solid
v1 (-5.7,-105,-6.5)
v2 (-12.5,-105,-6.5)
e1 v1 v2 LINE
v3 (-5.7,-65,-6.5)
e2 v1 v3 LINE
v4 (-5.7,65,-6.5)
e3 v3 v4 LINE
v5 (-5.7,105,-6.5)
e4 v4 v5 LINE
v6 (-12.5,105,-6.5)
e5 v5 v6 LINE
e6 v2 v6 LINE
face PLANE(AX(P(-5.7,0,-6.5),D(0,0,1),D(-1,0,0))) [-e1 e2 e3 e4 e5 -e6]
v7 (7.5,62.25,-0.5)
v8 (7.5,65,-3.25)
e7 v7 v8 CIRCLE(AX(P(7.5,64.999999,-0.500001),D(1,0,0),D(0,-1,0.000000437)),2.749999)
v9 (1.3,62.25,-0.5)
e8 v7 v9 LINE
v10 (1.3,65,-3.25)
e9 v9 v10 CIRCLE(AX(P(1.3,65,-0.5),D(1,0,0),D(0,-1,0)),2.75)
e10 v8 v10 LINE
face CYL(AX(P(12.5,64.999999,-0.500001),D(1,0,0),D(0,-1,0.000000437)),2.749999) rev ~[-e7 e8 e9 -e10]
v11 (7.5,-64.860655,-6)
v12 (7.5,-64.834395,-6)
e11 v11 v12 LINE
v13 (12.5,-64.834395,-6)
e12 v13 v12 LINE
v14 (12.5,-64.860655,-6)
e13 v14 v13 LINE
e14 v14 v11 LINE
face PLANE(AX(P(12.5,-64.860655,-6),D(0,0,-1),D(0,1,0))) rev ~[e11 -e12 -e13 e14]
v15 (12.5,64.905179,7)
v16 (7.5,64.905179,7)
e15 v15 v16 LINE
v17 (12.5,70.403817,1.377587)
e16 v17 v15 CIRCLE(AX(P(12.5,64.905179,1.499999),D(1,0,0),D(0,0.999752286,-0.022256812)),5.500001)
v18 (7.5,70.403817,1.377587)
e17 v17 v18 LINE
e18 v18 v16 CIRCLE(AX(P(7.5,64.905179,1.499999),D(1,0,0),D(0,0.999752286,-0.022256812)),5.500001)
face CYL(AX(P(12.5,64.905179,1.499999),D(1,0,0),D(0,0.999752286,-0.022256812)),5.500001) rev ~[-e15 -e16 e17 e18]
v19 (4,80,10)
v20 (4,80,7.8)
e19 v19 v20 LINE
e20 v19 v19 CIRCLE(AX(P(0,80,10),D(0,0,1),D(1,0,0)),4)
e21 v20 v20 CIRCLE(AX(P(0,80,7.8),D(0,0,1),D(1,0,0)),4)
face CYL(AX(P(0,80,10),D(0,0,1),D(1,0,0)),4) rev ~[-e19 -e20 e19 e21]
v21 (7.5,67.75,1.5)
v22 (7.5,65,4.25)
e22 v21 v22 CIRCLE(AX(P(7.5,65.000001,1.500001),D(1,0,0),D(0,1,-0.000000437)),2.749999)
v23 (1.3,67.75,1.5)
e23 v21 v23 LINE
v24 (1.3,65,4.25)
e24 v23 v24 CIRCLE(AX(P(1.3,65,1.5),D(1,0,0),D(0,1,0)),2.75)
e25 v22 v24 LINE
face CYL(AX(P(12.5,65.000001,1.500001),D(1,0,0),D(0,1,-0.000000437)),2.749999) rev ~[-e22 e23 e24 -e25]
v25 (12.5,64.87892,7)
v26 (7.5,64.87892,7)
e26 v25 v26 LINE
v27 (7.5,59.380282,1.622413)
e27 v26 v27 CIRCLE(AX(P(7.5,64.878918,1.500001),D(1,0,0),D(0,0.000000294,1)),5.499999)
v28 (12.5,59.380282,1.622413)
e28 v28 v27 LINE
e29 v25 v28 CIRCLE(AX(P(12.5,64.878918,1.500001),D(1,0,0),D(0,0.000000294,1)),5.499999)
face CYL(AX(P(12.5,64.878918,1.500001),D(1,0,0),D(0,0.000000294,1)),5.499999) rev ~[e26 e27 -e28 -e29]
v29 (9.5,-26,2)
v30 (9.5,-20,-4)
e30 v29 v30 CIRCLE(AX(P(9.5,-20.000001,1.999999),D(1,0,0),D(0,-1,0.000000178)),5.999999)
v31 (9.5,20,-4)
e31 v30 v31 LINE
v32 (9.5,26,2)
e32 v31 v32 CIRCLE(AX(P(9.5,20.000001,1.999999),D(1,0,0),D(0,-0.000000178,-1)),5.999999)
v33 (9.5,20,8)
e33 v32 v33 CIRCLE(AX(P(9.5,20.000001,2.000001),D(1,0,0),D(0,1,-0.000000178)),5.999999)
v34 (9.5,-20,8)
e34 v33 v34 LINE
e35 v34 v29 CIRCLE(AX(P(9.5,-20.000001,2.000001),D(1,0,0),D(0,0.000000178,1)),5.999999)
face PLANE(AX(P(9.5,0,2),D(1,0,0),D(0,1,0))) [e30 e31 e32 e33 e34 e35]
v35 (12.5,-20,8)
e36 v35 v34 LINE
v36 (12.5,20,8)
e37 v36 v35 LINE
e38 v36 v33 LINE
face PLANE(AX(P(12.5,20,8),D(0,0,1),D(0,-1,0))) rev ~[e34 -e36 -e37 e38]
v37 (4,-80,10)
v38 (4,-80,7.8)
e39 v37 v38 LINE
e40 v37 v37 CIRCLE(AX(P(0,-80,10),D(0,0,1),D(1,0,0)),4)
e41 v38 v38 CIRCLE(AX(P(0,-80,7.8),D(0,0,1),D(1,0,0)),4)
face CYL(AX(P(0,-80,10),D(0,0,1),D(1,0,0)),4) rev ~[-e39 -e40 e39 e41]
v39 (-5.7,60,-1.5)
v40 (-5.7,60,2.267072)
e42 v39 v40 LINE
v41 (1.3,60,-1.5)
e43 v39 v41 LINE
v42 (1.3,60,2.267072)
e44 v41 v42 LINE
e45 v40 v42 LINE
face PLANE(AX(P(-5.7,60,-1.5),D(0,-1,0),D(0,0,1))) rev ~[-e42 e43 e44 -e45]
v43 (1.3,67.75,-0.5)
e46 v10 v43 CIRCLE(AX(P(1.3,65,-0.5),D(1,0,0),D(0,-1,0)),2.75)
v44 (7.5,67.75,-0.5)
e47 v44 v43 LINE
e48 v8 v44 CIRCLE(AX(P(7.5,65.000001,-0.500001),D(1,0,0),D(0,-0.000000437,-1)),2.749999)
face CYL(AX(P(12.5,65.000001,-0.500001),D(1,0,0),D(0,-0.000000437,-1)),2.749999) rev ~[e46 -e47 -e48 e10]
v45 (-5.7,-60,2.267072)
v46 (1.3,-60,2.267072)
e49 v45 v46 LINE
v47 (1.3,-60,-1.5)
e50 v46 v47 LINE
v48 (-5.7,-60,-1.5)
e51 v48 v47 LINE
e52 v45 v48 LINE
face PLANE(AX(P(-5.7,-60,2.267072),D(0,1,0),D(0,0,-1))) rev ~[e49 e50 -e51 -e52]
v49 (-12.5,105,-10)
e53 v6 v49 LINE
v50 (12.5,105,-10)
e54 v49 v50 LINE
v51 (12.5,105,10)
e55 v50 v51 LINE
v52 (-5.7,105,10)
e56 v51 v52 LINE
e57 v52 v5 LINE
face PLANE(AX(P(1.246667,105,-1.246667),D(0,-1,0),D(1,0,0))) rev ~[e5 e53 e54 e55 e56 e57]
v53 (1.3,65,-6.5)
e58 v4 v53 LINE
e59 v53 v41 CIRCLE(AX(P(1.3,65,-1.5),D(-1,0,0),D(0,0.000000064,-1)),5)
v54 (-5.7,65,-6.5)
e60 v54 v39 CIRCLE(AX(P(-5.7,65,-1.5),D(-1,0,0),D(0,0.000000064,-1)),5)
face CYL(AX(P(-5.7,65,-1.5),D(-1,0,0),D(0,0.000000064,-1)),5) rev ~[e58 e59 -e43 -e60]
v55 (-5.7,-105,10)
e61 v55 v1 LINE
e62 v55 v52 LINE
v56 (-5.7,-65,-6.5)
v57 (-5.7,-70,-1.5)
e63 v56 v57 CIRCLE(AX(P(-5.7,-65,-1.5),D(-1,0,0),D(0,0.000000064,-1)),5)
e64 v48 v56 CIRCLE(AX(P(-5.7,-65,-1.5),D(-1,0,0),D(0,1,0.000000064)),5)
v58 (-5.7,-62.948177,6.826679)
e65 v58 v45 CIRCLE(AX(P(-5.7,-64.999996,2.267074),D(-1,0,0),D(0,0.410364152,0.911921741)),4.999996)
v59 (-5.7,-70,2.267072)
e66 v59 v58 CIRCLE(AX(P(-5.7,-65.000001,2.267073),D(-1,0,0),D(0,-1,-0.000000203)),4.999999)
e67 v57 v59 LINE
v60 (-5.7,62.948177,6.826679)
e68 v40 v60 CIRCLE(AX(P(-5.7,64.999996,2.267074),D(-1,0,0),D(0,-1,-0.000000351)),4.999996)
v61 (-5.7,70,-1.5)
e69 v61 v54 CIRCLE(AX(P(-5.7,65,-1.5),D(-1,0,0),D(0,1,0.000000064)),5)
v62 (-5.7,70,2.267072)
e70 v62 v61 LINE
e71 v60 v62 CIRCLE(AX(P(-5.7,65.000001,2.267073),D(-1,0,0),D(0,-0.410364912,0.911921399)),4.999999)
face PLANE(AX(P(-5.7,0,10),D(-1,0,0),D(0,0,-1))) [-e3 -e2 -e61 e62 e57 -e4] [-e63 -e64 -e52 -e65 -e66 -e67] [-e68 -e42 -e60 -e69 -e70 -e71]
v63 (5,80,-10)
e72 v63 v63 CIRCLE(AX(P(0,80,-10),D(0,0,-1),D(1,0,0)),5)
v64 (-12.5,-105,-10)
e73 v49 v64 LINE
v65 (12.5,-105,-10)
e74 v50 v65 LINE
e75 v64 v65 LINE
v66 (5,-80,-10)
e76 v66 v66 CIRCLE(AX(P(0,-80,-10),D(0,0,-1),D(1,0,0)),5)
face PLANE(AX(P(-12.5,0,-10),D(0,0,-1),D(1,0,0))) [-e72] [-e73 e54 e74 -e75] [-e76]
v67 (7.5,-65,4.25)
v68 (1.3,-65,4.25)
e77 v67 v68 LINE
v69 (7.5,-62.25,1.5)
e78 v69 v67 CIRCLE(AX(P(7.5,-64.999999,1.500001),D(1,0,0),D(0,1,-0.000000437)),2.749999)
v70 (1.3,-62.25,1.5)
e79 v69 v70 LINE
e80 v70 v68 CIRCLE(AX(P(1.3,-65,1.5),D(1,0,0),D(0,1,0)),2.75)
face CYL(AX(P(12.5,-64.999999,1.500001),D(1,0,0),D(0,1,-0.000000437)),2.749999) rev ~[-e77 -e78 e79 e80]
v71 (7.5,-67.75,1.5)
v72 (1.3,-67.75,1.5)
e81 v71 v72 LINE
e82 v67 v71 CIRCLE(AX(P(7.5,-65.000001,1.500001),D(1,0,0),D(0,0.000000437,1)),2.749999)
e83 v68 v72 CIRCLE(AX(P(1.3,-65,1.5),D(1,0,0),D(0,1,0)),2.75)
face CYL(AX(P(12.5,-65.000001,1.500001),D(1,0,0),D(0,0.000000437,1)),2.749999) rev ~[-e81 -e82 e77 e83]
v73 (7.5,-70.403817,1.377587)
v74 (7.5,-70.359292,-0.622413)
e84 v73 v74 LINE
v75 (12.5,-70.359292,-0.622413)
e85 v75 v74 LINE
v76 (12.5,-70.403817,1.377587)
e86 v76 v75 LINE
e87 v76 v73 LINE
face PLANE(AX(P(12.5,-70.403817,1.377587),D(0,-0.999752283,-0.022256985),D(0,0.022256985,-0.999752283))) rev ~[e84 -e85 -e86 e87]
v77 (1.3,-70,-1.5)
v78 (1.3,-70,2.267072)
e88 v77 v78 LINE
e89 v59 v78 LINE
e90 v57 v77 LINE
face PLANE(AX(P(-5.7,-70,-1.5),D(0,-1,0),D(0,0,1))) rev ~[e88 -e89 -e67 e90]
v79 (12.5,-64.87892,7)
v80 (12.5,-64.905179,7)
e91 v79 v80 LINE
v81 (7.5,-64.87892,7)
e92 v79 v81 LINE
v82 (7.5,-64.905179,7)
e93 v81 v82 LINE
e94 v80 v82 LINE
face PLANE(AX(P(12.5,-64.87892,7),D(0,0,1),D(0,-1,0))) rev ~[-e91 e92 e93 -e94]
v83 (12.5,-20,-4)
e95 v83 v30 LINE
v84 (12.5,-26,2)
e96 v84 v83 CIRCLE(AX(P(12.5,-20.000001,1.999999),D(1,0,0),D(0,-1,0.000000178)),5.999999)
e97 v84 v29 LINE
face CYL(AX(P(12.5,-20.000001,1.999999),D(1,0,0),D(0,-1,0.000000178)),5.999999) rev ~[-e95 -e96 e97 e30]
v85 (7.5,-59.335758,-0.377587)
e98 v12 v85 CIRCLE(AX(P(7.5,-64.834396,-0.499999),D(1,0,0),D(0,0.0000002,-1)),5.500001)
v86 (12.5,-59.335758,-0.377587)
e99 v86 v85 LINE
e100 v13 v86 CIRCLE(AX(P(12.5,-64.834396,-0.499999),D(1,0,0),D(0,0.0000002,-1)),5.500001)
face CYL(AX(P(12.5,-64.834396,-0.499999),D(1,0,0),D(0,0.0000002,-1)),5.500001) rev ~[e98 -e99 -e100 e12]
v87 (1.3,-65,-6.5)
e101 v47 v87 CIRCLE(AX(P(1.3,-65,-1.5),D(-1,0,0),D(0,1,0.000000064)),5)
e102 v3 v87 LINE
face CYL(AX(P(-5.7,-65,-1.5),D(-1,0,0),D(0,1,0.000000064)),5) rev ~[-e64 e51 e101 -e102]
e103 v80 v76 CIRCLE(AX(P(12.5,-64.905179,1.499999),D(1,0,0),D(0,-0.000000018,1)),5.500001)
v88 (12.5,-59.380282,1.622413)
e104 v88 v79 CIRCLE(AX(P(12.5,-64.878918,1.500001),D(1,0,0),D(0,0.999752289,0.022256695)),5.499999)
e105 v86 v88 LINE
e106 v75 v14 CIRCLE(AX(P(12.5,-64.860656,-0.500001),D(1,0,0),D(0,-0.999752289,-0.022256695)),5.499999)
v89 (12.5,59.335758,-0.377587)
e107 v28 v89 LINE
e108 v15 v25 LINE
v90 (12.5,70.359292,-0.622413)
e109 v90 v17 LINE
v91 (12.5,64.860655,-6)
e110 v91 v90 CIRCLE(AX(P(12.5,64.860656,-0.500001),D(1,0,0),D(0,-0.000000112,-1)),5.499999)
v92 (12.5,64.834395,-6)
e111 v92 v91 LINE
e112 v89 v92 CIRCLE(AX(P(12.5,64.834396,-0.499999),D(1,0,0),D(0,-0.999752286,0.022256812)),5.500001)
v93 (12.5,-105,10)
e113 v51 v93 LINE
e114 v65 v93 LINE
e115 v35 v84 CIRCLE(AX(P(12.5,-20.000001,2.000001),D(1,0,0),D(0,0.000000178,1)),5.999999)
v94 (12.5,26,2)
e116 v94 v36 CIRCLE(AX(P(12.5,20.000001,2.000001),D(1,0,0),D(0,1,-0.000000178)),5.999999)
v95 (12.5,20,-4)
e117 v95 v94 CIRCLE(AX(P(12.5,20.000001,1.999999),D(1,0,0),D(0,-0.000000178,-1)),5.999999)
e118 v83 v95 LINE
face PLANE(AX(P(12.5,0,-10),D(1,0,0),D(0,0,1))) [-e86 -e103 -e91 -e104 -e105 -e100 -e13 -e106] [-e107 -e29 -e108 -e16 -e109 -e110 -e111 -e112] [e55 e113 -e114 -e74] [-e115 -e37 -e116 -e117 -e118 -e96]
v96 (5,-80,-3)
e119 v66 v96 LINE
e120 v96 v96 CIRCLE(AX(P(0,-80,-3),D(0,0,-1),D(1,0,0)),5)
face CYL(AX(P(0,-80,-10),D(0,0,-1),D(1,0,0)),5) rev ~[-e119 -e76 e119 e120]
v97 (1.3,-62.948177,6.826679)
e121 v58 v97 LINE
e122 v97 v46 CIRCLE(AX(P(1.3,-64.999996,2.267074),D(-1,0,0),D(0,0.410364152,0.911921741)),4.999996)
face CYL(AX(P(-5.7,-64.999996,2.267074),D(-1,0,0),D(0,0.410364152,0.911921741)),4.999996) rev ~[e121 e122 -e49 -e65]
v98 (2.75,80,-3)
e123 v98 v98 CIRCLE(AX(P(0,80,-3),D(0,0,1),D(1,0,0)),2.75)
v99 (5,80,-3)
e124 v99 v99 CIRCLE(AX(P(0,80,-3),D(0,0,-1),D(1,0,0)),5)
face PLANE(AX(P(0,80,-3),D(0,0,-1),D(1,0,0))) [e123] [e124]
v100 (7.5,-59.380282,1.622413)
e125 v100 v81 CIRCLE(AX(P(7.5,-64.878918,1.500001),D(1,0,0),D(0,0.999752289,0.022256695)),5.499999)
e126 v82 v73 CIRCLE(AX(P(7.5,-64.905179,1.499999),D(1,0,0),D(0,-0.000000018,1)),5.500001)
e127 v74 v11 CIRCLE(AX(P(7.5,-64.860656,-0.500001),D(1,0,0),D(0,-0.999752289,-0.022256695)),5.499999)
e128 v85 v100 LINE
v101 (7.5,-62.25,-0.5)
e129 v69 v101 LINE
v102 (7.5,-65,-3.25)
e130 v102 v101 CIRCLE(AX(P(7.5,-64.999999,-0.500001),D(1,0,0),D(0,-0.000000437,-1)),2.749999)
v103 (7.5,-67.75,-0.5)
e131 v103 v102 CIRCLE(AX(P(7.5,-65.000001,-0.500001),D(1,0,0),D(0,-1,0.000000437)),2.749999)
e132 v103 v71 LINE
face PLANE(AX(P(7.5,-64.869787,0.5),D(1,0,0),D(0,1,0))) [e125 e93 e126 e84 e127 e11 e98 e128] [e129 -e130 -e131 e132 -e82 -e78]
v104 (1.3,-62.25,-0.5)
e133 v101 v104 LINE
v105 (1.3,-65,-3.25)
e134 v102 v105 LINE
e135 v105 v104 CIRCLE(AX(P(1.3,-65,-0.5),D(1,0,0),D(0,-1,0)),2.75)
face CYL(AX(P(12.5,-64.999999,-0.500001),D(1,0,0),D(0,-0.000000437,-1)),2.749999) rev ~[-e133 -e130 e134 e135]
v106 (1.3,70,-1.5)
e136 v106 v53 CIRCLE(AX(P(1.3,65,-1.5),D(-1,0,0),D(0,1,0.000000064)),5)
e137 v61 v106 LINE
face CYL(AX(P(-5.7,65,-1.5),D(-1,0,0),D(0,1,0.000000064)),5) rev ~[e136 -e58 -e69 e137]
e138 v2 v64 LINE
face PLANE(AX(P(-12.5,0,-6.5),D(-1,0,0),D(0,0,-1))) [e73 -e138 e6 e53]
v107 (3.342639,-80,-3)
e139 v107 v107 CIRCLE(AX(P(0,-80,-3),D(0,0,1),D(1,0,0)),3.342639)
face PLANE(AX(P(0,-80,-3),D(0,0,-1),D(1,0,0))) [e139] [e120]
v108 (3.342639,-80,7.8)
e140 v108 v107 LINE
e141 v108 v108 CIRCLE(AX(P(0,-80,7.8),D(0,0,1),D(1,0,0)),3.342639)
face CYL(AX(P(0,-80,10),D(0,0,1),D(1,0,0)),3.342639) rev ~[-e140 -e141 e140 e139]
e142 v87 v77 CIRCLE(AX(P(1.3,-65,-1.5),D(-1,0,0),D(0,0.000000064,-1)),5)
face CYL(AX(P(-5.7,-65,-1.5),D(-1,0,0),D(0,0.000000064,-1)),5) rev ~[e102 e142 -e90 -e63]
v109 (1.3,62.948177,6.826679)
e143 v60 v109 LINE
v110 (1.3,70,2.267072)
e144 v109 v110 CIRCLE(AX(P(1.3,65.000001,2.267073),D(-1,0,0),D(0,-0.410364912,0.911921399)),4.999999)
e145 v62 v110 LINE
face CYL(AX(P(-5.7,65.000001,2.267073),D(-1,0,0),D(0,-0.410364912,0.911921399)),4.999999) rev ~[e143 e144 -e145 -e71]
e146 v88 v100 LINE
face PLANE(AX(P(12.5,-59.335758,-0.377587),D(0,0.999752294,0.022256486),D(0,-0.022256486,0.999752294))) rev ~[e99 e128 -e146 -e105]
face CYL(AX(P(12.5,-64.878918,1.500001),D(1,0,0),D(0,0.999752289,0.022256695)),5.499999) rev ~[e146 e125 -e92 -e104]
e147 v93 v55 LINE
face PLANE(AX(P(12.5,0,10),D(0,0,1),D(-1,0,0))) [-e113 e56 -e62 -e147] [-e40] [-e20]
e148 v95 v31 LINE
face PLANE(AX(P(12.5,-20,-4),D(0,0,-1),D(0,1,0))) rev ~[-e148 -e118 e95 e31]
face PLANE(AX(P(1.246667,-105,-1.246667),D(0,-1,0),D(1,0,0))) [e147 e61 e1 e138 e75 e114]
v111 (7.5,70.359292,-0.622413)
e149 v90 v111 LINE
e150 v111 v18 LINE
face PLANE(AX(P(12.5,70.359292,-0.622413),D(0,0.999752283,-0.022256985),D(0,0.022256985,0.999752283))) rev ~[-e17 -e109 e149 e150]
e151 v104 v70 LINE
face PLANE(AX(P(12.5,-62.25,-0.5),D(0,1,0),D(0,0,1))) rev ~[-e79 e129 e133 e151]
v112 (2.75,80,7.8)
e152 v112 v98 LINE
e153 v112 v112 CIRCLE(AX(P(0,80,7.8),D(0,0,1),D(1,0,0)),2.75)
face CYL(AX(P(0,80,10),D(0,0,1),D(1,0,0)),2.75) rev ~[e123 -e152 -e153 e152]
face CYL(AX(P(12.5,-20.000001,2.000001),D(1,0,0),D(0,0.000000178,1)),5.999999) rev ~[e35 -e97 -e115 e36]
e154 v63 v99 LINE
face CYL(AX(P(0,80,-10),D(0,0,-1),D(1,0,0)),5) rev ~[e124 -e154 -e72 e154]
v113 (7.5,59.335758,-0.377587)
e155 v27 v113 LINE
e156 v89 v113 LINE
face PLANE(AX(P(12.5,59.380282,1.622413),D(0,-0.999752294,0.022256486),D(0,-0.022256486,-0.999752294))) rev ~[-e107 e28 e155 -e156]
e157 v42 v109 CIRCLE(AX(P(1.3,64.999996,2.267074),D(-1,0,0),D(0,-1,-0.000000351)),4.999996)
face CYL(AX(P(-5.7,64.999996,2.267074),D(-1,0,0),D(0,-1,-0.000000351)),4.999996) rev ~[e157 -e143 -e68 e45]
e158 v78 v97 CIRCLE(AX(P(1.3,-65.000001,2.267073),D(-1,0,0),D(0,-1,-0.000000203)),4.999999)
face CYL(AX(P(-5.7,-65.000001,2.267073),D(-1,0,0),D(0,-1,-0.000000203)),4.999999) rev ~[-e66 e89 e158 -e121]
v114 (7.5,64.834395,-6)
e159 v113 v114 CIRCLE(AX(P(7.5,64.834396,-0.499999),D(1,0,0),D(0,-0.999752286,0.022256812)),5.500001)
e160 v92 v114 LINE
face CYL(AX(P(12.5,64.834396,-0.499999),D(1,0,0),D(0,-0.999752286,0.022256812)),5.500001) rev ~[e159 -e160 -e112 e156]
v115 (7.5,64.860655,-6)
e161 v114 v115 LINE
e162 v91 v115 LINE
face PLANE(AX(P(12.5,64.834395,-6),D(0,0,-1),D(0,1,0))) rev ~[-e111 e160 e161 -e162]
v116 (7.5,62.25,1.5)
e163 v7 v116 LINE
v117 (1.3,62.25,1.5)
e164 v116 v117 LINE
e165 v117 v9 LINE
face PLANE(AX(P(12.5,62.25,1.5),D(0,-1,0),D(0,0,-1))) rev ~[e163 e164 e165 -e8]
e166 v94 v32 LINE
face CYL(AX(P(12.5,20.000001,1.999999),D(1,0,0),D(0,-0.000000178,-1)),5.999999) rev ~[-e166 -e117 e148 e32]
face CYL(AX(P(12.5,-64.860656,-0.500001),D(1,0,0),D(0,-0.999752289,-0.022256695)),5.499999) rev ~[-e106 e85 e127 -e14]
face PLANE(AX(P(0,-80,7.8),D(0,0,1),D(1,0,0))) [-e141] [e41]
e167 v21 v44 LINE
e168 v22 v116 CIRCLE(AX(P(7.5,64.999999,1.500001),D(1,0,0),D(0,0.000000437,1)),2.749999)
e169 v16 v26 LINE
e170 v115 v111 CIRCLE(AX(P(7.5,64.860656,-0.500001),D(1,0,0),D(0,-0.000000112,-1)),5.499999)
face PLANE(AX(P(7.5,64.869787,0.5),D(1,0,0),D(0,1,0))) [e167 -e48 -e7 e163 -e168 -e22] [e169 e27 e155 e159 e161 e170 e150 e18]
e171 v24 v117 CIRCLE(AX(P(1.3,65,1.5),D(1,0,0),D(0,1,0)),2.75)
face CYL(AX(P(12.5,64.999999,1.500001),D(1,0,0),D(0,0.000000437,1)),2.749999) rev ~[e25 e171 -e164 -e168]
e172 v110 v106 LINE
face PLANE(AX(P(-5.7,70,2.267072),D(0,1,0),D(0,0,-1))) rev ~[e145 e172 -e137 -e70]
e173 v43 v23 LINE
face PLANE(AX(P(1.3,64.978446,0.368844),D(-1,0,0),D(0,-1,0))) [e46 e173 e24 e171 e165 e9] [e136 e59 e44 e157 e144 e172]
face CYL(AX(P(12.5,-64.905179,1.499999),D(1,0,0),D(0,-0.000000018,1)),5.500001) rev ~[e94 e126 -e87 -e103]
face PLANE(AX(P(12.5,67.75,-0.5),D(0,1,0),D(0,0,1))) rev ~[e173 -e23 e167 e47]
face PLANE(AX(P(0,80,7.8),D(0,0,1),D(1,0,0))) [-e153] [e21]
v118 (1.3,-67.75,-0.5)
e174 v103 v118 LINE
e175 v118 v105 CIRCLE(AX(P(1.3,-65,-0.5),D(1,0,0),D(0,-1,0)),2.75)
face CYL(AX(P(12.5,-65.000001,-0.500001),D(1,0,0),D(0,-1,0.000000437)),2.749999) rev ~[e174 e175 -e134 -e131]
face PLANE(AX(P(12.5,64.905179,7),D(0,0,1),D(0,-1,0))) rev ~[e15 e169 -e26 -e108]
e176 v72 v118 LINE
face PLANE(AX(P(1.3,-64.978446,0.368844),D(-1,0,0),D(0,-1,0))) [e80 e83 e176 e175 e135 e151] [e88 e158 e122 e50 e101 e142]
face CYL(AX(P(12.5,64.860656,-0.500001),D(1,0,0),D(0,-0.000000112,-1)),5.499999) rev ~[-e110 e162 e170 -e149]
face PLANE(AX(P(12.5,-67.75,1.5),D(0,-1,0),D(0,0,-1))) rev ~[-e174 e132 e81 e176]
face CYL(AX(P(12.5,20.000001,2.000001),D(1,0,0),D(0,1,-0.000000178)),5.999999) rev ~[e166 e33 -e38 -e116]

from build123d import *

# Parameters (mm, degrees)
F1_DEPTH  = 105
F2_R      = 2.75
F2_R_2    = 3.342639
F3_DEPTH  = 20.001
F5_DEPTH  = 25.001
F7_DEPTH  = 5
F9_DEPTH  = 7
F10_R     = 4
F11_DEPTH = 2.2
F12_R     = 5
F13_DEPTH = 7
F15_DEPTH = 3


with BuildPart() as f1:
    # F0 (on Front) → F1 (new body, symmetric)
    with BuildSketch(Plane.XZ):
        Polygon((-12.5, -6.5), (-12.5, -10), (12.5, -10), (12.5, 10), (-5.7, 10), (-5.7, -6.5), align=None)
    extrude(amount=F1_DEPTH, both=True)

    # F2 (on face) → F3 (cut, through all)
    with BuildSketch(Plane.XY.offset(10)):
        with Locations((0, 80)):
            Circle(F2_R)
        with Locations((0, -80)):
            Circle(F2_R_2)
    extrude(amount=-F3_DEPTH, mode=Mode.SUBTRACT)

    # F4 (on face) → F5 (cut, through all)
    with BuildSketch(Plane.YZ.offset(12.5)):
        with BuildLine():
            ThreePointArc((-65, 4.25), (-66.944544, 3.444544), (-67.75, 1.5))
            Line((-67.75, 1.5), (-67.75, -0.5))
            ThreePointArc((-67.75, -0.5), (-66.944544, -2.444544), (-65, -3.25))
            ThreePointArc((-65, -3.25), (-63.055456, -2.444544), (-62.25, -0.5))
            Line((-62.25, -0.5), (-62.25, 1.5))
            ThreePointArc((-62.25, 1.5), (-63.055456, 3.444544), (-65, 4.25))
        make_face()
        with BuildLine():
            ThreePointArc((65, 4.25), (63.055456, 3.444544), (62.25, 1.5))
            Line((62.25, 1.5), (62.25, -0.5))
            ThreePointArc((62.25, -0.5), (63.055456, -2.444544), (65, -3.25))
            ThreePointArc((65, -3.25), (66.944544, -2.444544), (67.75, -0.5))
            Line((67.75, -0.5), (67.75, 1.5))
            ThreePointArc((67.75, 1.5), (66.944544, 3.444544), (65, 4.25))
        make_face()
    extrude(amount=-F5_DEPTH, mode=Mode.SUBTRACT)

    # F6 (on face) → F7 (cut)
    with BuildSketch(Plane.YZ.offset(12.5)):
        with BuildLine():
            Line((-64.860655, -6), (-64.834395, -6))
            ThreePointArc((-64.834395, -6), (-60.902267, -4.345564), (-59.335758, -0.377587))
            Line((-59.335758, -0.377587), (-59.380282, 1.622413))
            ThreePointArc((-59.380282, 1.622413), (-61.033355, 5.432129), (-64.87892, 7))
            Line((-64.87892, 7), (-64.905179, 7))
            ThreePointArc((-64.905179, 7), (-68.837308, 5.345564), (-70.403817, 1.377587))
            Line((-70.403817, 1.377587), (-70.359292, -0.622413))
            ThreePointArc((-70.359292, -0.622413), (-68.706219, -4.432129), (-64.860655, -6))
        make_face()
        with BuildLine():
            Line((59.380282, 1.622413), (59.335758, -0.377587))
            ThreePointArc((59.335758, -0.377587), (60.902267, -4.345564), (64.834395, -6))
            Line((64.834395, -6), (64.860655, -6))
            ThreePointArc((64.860655, -6), (68.706219, -4.432129), (70.359292, -0.622413))
            Line((70.359292, -0.622413), (70.403817, 1.377587))
            ThreePointArc((70.403817, 1.377587), (68.837308, 5.345564), (64.905179, 7))
            Line((64.905179, 7), (64.87892, 7))
            ThreePointArc((64.87892, 7), (61.033355, 5.432129), (59.380282, 1.622413))
        make_face()
    extrude(amount=-F7_DEPTH, mode=Mode.SUBTRACT)

    # F8 (on face) → F9 (cut)
    with BuildSketch(Plane(origin=(-5.7, 0, 0), x_dir=(0, -1, 0), z_dir=(-1, 0, 0))):
        with BuildLine():
            ThreePointArc((60, -1.5), (61.464466, -5.035534), (65, -6.5))
            ThreePointArc((65, -6.5), (68.535534, -5.035534), (70, -1.5))
            Line((70, -1.5), (70, 2.267072))
            ThreePointArc((70, 2.267072), (67.714856, 6.465829), (62.948177, 6.826679))
            ThreePointArc((62.948177, 6.826679), (60.801243, 4.981928), (60, 2.267072))
            Line((60, 2.267072), (60, -1.5))
        make_face()
        with BuildLine():
            ThreePointArc((67.75, -0.5), (65, -3.25), (62.25, -0.5))
            Line((62.25, -0.5), (62.25, 1.5))
            ThreePointArc((62.25, 1.5), (65, 4.25), (67.75, 1.5))
            Line((67.75, 1.5), (67.75, -0.5))
        make_face(mode=Mode.SUBTRACT)
        with BuildLine():
            ThreePointArc((-62.948177, 6.826679), (-67.714856, 6.465829), (-70, 2.267072))
            Line((-70, 2.267072), (-70, -1.5))
            ThreePointArc((-70, -1.5), (-68.535534, -5.035534), (-65, -6.5))
            ThreePointArc((-65, -6.5), (-61.464466, -5.035534), (-60, -1.5))
            Line((-60, -1.5), (-60, 2.267072))
            ThreePointArc((-60, 2.267072), (-60.801243, 4.981928), (-62.948177, 6.826679))
        make_face()
        with BuildLine():
            ThreePointArc((-62.25, -0.5), (-65, -3.25), (-67.75, -0.5))
            Line((-67.75, -0.5), (-67.75, 1.5))
            ThreePointArc((-67.75, 1.5), (-65, 4.25), (-62.25, 1.5))
            Line((-62.25, 1.5), (-62.25, -0.5))
        make_face(mode=Mode.SUBTRACT)
    extrude(amount=-F9_DEPTH, mode=Mode.SUBTRACT)

    # F10 (on face) → F11 (cut)
    with BuildSketch(Plane.XY.offset(10)):
        with Locations((0, -80)):
            Circle(F10_R)
        with Locations((0, 80)):
            Circle(F10_R)
    extrude(amount=-F11_DEPTH, mode=Mode.SUBTRACT)

    # F12 (on face) → F13 (cut)
    with BuildSketch(Plane(origin=(0, 0, -10), x_dir=(1, 0, 0), z_dir=(0, 0, -1))):
        with Locations((0, 80)):
            Circle(F12_R)
        with Locations((0, -80)):
            Circle(F12_R)
    extrude(amount=-F13_DEPTH, mode=Mode.SUBTRACT)

    # F14 (on face) → F15 (cut)
    with BuildSketch(Plane.YZ.offset(12.5)):
        with BuildLine():
            Line((20, 8), (-20, 8))
            ThreePointArc((-20, 8), (-24.242641, 6.242641), (-26, 2))
            ThreePointArc((-26, 2), (-24.242641, -2.242641), (-20, -4))
            Line((-20, -4), (20, -4))
            ThreePointArc((20, -4), (24.242641, -2.242641), (26, 2))
            ThreePointArc((26, 2), (24.242641, 6.242641), (20, 8))
        make_face()
    extrude(amount=-F15_DEPTH, mode=Mode.SUBTRACT)


solid = f1.part
